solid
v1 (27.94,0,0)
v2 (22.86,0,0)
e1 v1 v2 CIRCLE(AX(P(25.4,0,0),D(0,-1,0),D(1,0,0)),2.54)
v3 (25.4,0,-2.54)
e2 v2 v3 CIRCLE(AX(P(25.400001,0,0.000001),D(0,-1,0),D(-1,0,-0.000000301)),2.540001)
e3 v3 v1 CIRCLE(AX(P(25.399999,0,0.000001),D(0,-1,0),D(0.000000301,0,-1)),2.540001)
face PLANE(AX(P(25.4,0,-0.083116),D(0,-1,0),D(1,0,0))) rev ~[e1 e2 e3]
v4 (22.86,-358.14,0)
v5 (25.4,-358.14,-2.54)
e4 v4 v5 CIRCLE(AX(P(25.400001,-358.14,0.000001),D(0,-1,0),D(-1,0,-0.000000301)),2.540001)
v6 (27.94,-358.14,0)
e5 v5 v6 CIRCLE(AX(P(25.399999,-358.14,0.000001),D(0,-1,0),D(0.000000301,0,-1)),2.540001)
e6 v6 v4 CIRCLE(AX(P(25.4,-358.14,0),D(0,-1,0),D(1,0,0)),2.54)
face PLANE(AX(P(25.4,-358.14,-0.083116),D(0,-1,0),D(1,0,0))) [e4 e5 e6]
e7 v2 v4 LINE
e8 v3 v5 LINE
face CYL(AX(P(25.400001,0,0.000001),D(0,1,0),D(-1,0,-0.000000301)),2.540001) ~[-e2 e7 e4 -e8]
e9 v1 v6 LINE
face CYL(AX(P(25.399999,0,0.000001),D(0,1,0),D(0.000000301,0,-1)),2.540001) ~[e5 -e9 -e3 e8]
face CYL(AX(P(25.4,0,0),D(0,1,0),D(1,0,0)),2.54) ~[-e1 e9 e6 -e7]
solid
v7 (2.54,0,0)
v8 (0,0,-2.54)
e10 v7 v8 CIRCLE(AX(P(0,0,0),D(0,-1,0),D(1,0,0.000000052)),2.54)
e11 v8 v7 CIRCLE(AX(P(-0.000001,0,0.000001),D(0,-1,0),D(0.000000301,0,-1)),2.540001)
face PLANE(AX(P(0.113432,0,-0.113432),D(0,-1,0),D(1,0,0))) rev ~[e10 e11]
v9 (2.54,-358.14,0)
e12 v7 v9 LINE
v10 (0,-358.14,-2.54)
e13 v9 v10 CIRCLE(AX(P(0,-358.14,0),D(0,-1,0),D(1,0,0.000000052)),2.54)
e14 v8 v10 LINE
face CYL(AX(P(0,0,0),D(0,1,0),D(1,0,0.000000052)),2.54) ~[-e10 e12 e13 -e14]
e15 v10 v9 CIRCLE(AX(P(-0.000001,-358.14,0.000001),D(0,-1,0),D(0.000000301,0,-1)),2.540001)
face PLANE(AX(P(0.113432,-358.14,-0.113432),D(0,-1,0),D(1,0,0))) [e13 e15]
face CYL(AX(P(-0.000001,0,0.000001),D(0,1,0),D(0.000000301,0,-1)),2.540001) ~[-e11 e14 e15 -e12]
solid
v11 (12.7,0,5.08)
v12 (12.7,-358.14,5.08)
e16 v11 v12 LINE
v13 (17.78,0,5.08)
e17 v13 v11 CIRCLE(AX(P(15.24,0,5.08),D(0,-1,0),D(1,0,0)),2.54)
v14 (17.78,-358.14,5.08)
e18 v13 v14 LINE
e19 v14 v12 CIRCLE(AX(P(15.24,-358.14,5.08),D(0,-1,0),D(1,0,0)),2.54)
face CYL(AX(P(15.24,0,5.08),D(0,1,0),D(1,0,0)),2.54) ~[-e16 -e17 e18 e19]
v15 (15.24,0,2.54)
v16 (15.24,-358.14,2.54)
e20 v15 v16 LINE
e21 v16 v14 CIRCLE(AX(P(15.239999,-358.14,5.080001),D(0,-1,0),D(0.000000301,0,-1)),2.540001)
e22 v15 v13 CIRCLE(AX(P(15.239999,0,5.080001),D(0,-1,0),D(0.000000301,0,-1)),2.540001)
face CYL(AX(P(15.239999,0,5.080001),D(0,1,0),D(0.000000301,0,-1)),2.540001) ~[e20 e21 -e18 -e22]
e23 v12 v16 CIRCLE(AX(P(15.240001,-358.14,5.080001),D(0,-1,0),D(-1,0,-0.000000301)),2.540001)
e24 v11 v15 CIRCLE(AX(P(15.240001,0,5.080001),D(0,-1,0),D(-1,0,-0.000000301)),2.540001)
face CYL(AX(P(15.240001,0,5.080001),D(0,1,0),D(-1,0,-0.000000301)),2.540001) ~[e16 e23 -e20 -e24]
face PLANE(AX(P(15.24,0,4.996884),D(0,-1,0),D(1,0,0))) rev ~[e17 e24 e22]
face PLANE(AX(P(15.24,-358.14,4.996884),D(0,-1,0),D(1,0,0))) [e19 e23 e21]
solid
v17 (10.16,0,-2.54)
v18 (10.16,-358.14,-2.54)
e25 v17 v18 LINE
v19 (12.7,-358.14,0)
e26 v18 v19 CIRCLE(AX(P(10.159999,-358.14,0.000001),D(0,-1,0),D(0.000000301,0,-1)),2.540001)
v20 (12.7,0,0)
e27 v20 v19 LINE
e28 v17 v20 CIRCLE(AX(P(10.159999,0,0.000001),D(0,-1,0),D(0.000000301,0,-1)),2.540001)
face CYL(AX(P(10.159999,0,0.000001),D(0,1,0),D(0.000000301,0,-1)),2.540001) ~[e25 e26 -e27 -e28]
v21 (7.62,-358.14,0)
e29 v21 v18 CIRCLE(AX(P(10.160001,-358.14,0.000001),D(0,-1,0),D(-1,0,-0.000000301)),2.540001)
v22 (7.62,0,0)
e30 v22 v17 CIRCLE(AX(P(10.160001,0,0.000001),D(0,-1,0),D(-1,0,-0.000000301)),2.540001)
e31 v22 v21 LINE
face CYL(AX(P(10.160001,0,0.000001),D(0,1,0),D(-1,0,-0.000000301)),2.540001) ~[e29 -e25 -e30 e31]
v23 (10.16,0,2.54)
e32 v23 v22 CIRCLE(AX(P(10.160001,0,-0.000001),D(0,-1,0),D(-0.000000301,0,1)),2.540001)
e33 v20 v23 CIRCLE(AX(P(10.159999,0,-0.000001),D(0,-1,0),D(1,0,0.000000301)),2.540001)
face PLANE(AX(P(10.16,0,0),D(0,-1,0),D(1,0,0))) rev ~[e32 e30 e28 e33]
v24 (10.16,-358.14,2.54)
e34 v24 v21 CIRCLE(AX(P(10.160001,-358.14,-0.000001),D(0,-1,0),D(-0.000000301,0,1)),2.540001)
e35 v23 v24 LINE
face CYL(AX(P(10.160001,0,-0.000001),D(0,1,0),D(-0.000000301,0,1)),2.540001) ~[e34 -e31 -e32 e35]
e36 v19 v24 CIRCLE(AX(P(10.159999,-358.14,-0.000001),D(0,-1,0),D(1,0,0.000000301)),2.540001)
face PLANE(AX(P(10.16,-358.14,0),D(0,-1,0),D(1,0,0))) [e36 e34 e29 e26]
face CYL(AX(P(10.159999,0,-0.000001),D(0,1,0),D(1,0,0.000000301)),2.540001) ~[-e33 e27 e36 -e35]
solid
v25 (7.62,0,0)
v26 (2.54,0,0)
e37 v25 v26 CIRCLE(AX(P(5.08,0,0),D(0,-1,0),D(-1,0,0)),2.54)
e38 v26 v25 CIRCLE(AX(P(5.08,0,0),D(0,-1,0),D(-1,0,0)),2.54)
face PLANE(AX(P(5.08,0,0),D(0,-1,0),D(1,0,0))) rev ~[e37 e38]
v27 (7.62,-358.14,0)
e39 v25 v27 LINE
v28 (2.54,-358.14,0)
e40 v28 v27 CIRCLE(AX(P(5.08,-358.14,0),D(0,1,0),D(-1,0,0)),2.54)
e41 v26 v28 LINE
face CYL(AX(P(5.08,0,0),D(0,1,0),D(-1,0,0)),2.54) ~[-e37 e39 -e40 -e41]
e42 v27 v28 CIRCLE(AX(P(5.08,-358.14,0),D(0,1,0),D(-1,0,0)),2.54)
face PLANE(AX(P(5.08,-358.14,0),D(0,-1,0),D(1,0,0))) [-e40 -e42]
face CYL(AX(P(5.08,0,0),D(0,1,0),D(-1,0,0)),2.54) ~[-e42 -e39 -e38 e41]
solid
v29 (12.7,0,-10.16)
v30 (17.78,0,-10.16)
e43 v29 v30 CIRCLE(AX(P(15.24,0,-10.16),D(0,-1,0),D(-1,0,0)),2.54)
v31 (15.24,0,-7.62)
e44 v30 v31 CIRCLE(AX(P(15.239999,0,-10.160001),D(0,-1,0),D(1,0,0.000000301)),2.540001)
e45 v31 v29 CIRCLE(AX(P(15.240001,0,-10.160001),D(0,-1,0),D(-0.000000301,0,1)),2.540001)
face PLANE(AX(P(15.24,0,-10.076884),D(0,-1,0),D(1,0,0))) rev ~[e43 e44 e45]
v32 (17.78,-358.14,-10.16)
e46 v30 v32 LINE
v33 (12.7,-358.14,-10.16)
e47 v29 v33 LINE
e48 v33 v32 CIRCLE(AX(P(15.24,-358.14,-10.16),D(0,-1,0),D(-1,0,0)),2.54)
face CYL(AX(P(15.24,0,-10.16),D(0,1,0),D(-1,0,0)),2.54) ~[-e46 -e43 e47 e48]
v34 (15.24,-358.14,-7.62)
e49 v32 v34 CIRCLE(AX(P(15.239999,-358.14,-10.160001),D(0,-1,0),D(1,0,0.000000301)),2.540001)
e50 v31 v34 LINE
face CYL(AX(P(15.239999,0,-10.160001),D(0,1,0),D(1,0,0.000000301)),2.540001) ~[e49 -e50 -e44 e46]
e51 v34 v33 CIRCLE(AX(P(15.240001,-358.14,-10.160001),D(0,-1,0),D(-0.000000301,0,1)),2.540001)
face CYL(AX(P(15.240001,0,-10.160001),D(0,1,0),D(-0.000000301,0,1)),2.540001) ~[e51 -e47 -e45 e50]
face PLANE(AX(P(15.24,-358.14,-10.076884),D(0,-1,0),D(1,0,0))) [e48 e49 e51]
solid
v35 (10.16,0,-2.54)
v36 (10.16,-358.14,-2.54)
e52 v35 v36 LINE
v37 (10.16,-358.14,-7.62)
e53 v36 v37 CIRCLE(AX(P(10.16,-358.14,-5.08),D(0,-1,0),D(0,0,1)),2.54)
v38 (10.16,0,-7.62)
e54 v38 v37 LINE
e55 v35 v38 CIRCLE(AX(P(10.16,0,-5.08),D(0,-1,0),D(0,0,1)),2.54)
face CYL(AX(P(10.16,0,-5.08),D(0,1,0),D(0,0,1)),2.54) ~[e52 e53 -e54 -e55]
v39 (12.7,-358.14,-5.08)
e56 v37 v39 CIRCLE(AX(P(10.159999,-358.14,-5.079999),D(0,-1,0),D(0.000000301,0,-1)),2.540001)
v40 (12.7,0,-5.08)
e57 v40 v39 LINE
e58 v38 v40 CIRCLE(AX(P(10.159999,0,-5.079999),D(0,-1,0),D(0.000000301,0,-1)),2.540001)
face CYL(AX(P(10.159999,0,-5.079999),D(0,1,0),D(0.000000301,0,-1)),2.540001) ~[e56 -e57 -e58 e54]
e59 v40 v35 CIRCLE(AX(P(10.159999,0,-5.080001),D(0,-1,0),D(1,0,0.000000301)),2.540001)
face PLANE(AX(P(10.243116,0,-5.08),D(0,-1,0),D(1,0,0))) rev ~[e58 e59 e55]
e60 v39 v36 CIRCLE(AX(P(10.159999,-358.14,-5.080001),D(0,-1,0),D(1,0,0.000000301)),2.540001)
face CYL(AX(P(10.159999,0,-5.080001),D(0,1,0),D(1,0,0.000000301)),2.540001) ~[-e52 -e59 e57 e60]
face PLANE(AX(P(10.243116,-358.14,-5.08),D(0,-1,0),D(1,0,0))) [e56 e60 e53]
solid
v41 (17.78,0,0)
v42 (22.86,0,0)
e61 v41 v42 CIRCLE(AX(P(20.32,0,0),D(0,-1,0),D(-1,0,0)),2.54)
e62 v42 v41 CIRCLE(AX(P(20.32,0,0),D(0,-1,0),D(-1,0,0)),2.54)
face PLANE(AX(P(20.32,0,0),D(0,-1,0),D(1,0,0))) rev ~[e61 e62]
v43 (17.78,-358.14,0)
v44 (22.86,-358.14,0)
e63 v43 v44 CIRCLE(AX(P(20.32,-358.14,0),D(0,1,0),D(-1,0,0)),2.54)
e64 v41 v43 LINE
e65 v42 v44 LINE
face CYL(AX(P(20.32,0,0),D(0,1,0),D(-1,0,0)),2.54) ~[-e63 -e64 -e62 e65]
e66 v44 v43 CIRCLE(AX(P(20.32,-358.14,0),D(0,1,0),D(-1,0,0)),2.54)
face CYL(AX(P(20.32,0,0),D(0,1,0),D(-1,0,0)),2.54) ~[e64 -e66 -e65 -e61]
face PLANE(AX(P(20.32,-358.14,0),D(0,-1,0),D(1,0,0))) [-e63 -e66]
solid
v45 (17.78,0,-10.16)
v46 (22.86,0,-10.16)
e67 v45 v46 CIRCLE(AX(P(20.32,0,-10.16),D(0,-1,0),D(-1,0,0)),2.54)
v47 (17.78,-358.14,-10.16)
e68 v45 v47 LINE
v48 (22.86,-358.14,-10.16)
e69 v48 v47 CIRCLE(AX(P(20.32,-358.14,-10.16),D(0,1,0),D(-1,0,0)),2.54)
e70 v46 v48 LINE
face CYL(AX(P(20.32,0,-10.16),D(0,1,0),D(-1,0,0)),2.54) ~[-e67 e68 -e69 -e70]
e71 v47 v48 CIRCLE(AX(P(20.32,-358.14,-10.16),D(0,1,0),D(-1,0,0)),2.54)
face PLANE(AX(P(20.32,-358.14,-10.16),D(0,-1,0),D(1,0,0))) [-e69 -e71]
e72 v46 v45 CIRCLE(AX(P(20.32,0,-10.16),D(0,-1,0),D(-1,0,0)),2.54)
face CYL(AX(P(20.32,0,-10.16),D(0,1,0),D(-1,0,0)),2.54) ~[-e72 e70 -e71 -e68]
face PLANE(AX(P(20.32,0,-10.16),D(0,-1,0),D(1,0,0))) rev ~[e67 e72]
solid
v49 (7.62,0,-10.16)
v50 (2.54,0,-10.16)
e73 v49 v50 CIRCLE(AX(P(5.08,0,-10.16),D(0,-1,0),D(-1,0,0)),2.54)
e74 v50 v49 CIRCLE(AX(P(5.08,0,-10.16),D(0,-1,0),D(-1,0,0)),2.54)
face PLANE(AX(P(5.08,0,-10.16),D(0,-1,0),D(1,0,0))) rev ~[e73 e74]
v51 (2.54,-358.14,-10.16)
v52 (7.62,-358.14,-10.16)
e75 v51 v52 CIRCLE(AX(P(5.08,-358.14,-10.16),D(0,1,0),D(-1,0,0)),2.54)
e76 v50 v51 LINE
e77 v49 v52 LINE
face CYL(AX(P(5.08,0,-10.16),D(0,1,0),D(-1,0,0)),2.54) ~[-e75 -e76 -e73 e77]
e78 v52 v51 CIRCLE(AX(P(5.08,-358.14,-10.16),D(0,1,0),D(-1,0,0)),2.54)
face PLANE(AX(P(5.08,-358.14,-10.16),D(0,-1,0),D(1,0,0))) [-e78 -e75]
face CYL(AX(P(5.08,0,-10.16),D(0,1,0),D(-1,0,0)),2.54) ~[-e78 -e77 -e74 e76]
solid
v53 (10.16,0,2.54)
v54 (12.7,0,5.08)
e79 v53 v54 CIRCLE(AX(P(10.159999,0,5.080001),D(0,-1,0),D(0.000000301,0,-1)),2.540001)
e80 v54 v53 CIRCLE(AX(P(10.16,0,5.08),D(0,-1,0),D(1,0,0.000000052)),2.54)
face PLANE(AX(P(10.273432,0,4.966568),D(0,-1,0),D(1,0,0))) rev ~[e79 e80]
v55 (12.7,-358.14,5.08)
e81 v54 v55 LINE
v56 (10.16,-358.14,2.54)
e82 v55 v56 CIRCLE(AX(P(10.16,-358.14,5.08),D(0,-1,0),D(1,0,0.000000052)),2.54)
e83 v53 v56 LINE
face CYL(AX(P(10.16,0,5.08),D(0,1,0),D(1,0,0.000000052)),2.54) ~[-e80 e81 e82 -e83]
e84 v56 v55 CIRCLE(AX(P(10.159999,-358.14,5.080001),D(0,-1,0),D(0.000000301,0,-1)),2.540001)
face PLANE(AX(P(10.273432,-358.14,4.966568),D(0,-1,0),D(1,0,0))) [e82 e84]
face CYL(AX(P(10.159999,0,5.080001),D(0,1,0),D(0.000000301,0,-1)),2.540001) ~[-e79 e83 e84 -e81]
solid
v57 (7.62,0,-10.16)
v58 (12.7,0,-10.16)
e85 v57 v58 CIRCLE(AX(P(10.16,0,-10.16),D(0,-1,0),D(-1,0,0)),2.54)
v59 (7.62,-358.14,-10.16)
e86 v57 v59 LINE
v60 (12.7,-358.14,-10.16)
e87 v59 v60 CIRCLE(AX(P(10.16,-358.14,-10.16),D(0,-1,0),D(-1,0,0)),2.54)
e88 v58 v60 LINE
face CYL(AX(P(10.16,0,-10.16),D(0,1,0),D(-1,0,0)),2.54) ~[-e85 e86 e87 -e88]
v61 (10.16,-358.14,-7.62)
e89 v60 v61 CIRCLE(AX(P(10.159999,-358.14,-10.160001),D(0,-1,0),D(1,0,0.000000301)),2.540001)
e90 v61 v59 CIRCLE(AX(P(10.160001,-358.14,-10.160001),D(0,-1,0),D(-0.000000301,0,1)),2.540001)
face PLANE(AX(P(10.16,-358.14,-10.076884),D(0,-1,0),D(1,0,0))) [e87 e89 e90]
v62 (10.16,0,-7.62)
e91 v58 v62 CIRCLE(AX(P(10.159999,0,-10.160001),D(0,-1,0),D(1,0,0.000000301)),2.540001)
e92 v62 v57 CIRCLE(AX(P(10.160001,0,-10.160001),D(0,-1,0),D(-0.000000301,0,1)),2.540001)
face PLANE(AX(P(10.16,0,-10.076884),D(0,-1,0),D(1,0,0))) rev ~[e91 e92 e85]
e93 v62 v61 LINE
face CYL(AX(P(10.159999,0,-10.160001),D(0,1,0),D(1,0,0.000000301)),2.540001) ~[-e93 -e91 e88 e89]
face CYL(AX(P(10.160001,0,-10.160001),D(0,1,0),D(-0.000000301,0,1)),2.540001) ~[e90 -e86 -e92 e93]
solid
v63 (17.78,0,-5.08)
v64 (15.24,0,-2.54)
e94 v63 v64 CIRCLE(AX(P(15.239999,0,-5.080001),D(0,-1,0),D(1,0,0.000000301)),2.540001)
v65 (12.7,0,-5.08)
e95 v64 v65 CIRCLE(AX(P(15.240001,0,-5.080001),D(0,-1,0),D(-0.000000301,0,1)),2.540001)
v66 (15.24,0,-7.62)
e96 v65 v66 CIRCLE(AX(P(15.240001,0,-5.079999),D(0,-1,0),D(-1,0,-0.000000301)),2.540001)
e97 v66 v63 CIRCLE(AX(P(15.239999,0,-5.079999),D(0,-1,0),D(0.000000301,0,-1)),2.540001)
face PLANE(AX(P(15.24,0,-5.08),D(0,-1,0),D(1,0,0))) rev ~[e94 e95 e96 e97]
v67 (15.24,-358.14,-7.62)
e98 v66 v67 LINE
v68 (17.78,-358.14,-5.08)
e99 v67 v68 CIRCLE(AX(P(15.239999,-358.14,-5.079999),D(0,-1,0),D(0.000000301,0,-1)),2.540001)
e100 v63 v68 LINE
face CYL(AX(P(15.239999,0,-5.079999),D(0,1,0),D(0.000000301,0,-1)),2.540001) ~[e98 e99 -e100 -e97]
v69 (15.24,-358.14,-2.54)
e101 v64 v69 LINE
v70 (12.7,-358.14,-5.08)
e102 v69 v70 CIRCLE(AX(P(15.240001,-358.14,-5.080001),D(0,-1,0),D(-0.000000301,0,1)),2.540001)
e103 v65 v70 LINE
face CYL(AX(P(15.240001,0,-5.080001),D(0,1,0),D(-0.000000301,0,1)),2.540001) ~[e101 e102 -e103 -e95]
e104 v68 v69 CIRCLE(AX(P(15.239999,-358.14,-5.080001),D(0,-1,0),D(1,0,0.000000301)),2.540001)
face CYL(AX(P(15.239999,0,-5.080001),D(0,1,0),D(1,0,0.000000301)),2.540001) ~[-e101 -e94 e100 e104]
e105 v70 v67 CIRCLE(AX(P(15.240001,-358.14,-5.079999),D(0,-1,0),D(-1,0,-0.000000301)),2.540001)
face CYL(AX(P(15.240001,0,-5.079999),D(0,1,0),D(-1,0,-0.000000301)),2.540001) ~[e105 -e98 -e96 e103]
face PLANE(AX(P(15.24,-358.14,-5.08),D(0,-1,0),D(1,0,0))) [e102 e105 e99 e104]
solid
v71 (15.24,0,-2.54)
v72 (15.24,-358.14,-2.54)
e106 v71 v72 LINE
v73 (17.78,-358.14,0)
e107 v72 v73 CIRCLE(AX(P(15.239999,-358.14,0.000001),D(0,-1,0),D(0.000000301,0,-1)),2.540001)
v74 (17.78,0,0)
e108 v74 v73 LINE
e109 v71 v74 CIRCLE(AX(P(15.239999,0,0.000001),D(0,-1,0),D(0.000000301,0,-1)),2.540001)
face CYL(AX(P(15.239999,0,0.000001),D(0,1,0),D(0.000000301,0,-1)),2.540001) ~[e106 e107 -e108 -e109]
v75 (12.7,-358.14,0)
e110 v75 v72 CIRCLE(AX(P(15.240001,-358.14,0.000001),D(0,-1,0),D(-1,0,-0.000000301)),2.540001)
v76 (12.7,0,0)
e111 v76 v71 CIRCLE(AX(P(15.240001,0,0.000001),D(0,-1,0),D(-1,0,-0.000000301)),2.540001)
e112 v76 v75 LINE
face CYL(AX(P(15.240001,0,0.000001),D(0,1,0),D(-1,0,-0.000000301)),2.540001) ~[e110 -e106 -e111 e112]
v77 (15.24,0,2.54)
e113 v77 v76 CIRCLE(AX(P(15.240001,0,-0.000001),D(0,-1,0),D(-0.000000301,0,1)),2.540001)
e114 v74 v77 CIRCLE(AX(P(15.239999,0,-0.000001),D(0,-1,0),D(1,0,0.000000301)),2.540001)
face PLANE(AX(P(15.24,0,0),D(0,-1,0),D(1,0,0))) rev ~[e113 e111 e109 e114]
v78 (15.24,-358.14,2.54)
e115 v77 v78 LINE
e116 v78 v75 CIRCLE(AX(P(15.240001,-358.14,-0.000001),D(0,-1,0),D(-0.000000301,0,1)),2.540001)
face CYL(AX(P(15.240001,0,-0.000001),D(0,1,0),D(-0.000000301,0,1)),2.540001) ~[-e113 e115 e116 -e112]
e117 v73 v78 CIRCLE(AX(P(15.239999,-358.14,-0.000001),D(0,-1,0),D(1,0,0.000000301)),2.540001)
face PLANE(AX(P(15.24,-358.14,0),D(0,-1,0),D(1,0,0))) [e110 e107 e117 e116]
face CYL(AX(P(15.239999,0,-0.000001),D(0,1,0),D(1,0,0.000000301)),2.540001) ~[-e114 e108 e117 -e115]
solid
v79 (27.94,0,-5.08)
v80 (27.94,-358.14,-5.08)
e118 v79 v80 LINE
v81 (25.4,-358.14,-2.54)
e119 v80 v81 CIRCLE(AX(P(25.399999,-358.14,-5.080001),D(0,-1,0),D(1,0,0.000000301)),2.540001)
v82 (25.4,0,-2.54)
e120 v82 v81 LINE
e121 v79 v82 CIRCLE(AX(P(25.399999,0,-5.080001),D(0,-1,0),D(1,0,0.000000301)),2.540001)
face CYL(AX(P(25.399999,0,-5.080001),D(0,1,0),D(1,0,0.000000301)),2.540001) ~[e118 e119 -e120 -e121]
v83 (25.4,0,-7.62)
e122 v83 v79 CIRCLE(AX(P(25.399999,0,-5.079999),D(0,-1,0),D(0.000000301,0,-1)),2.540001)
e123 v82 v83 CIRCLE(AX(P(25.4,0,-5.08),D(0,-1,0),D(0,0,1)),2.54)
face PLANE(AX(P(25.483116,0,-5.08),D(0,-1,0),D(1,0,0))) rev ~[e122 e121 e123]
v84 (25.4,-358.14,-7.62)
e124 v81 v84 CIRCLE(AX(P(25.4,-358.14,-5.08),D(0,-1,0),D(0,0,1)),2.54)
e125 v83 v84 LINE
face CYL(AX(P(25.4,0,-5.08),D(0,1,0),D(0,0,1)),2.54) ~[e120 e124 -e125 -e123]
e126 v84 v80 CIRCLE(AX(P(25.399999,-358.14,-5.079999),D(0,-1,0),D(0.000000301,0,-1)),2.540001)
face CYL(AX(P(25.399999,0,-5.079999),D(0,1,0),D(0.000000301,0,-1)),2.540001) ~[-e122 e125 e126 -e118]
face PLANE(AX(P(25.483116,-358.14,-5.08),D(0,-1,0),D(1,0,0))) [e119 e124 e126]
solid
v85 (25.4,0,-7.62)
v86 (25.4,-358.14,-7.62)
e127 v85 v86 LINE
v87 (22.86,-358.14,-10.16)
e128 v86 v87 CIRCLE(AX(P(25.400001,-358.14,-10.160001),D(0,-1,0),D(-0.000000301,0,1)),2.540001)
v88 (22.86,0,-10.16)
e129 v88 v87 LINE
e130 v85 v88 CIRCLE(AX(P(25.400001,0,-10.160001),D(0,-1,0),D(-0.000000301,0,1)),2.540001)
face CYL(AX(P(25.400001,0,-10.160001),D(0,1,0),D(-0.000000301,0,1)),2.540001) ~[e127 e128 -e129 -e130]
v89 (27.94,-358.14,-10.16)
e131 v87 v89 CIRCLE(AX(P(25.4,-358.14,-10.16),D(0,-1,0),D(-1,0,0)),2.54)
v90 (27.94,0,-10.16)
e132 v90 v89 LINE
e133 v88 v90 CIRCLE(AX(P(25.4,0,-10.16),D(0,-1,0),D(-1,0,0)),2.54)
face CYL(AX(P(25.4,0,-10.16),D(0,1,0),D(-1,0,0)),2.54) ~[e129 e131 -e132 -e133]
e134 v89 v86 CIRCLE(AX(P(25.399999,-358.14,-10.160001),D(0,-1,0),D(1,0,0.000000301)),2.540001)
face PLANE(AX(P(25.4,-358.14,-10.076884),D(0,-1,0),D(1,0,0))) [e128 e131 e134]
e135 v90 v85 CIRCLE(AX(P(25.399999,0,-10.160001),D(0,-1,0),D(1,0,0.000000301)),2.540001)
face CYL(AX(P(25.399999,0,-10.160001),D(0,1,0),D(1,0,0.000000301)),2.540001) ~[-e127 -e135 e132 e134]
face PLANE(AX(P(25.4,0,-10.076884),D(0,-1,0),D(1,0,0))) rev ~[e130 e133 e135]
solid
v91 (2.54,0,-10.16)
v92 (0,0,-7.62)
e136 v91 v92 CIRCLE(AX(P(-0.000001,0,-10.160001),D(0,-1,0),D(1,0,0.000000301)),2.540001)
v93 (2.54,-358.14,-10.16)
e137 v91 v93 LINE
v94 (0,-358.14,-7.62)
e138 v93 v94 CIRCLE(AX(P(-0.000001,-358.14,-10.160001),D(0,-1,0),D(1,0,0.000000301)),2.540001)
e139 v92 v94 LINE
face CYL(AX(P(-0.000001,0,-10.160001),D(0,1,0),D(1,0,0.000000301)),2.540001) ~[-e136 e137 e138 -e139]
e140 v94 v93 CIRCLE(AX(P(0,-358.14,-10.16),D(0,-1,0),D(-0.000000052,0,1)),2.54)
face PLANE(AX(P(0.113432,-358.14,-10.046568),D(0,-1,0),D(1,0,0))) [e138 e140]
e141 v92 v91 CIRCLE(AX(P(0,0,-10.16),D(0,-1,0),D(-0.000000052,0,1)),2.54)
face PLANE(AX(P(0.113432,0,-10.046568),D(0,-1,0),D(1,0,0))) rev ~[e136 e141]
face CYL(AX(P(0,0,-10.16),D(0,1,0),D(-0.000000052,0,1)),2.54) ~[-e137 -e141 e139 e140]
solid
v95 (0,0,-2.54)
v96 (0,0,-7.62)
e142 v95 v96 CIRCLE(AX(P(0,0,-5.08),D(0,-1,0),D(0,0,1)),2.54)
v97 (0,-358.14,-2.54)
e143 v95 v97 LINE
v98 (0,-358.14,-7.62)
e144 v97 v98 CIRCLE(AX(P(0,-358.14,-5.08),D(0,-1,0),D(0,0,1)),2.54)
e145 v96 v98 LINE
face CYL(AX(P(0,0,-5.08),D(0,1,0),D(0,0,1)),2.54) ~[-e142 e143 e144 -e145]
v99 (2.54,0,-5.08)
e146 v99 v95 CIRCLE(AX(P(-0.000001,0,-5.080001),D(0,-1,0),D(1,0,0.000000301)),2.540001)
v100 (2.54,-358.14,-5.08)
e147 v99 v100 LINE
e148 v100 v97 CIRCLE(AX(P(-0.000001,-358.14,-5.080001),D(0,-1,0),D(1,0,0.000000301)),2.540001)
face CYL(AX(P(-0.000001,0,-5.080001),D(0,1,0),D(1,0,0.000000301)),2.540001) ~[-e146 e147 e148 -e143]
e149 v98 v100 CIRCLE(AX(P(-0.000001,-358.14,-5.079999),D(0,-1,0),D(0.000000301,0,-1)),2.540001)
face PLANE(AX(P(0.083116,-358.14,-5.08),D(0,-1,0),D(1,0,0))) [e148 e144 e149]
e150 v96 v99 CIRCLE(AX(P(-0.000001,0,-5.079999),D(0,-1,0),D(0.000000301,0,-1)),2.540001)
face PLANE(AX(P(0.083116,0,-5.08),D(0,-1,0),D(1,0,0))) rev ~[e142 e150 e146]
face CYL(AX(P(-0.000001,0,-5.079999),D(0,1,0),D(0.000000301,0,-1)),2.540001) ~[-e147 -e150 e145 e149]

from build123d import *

# Parameters (mm, degrees)
F1_DEPTH = 358.14


with BuildPart() as f1:
    # F0 (on Front) → F1 (new body)
    with BuildSketch(Plane.XZ):
        with BuildLine():
            ThreePointArc((7.62, 0), (5.08, 2.54), (2.54, 0))
            ThreePointArc((2.54, 0), (5.08, -2.54), (7.62, 0))
        make_face()
        with BuildLine():
            ThreePointArc((0, -2.54), (1.796051, -1.796051), (2.54, 0))
            ThreePointArc((2.54, 0), (-1.796051, 1.796051), (0, -2.54))
        make_face()
        with BuildLine():
            ThreePointArc((2.54, -5.08), (1.796051, -3.283949), (0, -2.54))
            ThreePointArc((0, -2.54), (-2.54, -5.08), (0, -7.62))
            ThreePointArc((0, -7.62), (1.796051, -6.876051), (2.54, -5.08))
        make_face()
        with BuildLine():
            ThreePointArc((2.54, -10.16), (1.796051, -8.363949), (0, -7.62))
            ThreePointArc((0, -7.62), (-1.796051, -11.956051), (2.54, -10.16))
        make_face()
        with BuildLine():
            ThreePointArc((7.62, -10.16), (5.08, -7.62), (2.54, -10.16))
            ThreePointArc((2.54, -10.16), (5.08, -12.7), (7.62, -10.16))
        make_face()
        with BuildLine():
            ThreePointArc((12.7, -10.16), (11.956051, -8.363949), (10.16, -7.62))
            ThreePointArc((10.16, -7.62), (8.363949, -8.363949), (7.62, -10.16))
            ThreePointArc((7.62, -10.16), (10.16, -12.7), (12.7, -10.16))
        make_face()
        with BuildLine():
            ThreePointArc((12.7, -5.08), (11.956051, -3.283949), (10.16, -2.54))
            ThreePointArc((10.16, -2.54), (7.62, -5.08), (10.16, -7.62))
            ThreePointArc((10.16, -7.62), (11.956051, -6.876051), (12.7, -5.08))
        make_face()
        with BuildLine():
            ThreePointArc((10.16, 2.54), (8.363949, 1.796051), (7.62, 0))
            ThreePointArc((7.62, 0), (8.363949, -1.796051), (10.16, -2.54))
            ThreePointArc((10.16, -2.54), (11.956051, -1.796051), (12.7, 0))
            ThreePointArc((12.7, 0), (11.956051, 1.796051), (10.16, 2.54))
        make_face()
        with BuildLine():
            ThreePointArc((12.7, 5.08), (8.363949, 6.876051), (10.16, 2.54))
            ThreePointArc((10.16, 2.54), (11.956051, 3.283949), (12.7, 5.08))
        make_face()
        with BuildLine():
            ThreePointArc((17.78, 5.08), (15.24, 7.62), (12.7, 5.08))
            ThreePointArc((12.7, 5.08), (13.443949, 3.283949), (15.24, 2.54))
            ThreePointArc((15.24, 2.54), (17.036051, 3.283949), (17.78, 5.08))
        make_face()
        with BuildLine():
            ThreePointArc((15.24, 2.54), (13.443949, 1.796051), (12.7, 0))
            ThreePointArc((12.7, 0), (13.443949, -1.796051), (15.24, -2.54))
            ThreePointArc((15.24, -2.54), (17.036051, -1.796051), (17.78, 0))
            ThreePointArc((17.78, 0), (17.036051, 1.796051), (15.24, 2.54))
        make_face()
        with BuildLine():
            ThreePointArc((15.24, -2.54), (13.443949, -3.283949), (12.7, -5.08))
            ThreePointArc((12.7, -5.08), (13.443949, -6.876051), (15.24, -7.62))
            ThreePointArc((15.24, -7.62), (17.036051, -6.876051), (17.78, -5.08))
            ThreePointArc((17.78, -5.08), (17.036051, -3.283949), (15.24, -2.54))
        make_face()
        with BuildLine():
            ThreePointArc((17.78, -10.16), (17.036051, -8.363949), (15.24, -7.62))
            ThreePointArc((15.24, -7.62), (13.443949, -8.363949), (12.7, -10.16))
            ThreePointArc((12.7, -10.16), (15.24, -12.7), (17.78, -10.16))
        make_face()
        with BuildLine():
            ThreePointArc((22.86, -10.16), (20.32, -7.62), (17.78, -10.16))
            ThreePointArc((17.78, -10.16), (20.32, -12.7), (22.86, -10.16))
        make_face()
        with BuildLine():
            ThreePointArc((25.4, -7.62), (23.603949, -8.363949), (22.86, -10.16))
            ThreePointArc((22.86, -10.16), (25.4, -12.7), (27.94, -10.16))
            ThreePointArc((27.94, -10.16), (27.196051, -8.363949), (25.4, -7.62))
        make_face()
        with BuildLine():
            ThreePointArc((27.94, -5.08), (27.196051, -3.283949), (25.4, -2.54))
            ThreePointArc((25.4, -2.54), (22.86, -5.08), (25.4, -7.62))
            ThreePointArc((25.4, -7.62), (27.196051, -6.876051), (27.94, -5.08))
        make_face()
        with BuildLine():
            ThreePointArc((27.94, 0), (25.4, 2.54), (22.86, 0))
            ThreePointArc((22.86, 0), (23.603949, -1.796051), (25.4, -2.54))
            ThreePointArc((25.4, -2.54), (27.196051, -1.796051), (27.94, 0))
        make_face()
        with BuildLine():
            ThreePointArc((22.86, 0), (20.32, 2.54), (17.78, 0))
            ThreePointArc((17.78, 0), (20.32, -2.54), (22.86, 0))
        make_face()
    extrude(amount=F1_DEPTH)


solid = f1.part
